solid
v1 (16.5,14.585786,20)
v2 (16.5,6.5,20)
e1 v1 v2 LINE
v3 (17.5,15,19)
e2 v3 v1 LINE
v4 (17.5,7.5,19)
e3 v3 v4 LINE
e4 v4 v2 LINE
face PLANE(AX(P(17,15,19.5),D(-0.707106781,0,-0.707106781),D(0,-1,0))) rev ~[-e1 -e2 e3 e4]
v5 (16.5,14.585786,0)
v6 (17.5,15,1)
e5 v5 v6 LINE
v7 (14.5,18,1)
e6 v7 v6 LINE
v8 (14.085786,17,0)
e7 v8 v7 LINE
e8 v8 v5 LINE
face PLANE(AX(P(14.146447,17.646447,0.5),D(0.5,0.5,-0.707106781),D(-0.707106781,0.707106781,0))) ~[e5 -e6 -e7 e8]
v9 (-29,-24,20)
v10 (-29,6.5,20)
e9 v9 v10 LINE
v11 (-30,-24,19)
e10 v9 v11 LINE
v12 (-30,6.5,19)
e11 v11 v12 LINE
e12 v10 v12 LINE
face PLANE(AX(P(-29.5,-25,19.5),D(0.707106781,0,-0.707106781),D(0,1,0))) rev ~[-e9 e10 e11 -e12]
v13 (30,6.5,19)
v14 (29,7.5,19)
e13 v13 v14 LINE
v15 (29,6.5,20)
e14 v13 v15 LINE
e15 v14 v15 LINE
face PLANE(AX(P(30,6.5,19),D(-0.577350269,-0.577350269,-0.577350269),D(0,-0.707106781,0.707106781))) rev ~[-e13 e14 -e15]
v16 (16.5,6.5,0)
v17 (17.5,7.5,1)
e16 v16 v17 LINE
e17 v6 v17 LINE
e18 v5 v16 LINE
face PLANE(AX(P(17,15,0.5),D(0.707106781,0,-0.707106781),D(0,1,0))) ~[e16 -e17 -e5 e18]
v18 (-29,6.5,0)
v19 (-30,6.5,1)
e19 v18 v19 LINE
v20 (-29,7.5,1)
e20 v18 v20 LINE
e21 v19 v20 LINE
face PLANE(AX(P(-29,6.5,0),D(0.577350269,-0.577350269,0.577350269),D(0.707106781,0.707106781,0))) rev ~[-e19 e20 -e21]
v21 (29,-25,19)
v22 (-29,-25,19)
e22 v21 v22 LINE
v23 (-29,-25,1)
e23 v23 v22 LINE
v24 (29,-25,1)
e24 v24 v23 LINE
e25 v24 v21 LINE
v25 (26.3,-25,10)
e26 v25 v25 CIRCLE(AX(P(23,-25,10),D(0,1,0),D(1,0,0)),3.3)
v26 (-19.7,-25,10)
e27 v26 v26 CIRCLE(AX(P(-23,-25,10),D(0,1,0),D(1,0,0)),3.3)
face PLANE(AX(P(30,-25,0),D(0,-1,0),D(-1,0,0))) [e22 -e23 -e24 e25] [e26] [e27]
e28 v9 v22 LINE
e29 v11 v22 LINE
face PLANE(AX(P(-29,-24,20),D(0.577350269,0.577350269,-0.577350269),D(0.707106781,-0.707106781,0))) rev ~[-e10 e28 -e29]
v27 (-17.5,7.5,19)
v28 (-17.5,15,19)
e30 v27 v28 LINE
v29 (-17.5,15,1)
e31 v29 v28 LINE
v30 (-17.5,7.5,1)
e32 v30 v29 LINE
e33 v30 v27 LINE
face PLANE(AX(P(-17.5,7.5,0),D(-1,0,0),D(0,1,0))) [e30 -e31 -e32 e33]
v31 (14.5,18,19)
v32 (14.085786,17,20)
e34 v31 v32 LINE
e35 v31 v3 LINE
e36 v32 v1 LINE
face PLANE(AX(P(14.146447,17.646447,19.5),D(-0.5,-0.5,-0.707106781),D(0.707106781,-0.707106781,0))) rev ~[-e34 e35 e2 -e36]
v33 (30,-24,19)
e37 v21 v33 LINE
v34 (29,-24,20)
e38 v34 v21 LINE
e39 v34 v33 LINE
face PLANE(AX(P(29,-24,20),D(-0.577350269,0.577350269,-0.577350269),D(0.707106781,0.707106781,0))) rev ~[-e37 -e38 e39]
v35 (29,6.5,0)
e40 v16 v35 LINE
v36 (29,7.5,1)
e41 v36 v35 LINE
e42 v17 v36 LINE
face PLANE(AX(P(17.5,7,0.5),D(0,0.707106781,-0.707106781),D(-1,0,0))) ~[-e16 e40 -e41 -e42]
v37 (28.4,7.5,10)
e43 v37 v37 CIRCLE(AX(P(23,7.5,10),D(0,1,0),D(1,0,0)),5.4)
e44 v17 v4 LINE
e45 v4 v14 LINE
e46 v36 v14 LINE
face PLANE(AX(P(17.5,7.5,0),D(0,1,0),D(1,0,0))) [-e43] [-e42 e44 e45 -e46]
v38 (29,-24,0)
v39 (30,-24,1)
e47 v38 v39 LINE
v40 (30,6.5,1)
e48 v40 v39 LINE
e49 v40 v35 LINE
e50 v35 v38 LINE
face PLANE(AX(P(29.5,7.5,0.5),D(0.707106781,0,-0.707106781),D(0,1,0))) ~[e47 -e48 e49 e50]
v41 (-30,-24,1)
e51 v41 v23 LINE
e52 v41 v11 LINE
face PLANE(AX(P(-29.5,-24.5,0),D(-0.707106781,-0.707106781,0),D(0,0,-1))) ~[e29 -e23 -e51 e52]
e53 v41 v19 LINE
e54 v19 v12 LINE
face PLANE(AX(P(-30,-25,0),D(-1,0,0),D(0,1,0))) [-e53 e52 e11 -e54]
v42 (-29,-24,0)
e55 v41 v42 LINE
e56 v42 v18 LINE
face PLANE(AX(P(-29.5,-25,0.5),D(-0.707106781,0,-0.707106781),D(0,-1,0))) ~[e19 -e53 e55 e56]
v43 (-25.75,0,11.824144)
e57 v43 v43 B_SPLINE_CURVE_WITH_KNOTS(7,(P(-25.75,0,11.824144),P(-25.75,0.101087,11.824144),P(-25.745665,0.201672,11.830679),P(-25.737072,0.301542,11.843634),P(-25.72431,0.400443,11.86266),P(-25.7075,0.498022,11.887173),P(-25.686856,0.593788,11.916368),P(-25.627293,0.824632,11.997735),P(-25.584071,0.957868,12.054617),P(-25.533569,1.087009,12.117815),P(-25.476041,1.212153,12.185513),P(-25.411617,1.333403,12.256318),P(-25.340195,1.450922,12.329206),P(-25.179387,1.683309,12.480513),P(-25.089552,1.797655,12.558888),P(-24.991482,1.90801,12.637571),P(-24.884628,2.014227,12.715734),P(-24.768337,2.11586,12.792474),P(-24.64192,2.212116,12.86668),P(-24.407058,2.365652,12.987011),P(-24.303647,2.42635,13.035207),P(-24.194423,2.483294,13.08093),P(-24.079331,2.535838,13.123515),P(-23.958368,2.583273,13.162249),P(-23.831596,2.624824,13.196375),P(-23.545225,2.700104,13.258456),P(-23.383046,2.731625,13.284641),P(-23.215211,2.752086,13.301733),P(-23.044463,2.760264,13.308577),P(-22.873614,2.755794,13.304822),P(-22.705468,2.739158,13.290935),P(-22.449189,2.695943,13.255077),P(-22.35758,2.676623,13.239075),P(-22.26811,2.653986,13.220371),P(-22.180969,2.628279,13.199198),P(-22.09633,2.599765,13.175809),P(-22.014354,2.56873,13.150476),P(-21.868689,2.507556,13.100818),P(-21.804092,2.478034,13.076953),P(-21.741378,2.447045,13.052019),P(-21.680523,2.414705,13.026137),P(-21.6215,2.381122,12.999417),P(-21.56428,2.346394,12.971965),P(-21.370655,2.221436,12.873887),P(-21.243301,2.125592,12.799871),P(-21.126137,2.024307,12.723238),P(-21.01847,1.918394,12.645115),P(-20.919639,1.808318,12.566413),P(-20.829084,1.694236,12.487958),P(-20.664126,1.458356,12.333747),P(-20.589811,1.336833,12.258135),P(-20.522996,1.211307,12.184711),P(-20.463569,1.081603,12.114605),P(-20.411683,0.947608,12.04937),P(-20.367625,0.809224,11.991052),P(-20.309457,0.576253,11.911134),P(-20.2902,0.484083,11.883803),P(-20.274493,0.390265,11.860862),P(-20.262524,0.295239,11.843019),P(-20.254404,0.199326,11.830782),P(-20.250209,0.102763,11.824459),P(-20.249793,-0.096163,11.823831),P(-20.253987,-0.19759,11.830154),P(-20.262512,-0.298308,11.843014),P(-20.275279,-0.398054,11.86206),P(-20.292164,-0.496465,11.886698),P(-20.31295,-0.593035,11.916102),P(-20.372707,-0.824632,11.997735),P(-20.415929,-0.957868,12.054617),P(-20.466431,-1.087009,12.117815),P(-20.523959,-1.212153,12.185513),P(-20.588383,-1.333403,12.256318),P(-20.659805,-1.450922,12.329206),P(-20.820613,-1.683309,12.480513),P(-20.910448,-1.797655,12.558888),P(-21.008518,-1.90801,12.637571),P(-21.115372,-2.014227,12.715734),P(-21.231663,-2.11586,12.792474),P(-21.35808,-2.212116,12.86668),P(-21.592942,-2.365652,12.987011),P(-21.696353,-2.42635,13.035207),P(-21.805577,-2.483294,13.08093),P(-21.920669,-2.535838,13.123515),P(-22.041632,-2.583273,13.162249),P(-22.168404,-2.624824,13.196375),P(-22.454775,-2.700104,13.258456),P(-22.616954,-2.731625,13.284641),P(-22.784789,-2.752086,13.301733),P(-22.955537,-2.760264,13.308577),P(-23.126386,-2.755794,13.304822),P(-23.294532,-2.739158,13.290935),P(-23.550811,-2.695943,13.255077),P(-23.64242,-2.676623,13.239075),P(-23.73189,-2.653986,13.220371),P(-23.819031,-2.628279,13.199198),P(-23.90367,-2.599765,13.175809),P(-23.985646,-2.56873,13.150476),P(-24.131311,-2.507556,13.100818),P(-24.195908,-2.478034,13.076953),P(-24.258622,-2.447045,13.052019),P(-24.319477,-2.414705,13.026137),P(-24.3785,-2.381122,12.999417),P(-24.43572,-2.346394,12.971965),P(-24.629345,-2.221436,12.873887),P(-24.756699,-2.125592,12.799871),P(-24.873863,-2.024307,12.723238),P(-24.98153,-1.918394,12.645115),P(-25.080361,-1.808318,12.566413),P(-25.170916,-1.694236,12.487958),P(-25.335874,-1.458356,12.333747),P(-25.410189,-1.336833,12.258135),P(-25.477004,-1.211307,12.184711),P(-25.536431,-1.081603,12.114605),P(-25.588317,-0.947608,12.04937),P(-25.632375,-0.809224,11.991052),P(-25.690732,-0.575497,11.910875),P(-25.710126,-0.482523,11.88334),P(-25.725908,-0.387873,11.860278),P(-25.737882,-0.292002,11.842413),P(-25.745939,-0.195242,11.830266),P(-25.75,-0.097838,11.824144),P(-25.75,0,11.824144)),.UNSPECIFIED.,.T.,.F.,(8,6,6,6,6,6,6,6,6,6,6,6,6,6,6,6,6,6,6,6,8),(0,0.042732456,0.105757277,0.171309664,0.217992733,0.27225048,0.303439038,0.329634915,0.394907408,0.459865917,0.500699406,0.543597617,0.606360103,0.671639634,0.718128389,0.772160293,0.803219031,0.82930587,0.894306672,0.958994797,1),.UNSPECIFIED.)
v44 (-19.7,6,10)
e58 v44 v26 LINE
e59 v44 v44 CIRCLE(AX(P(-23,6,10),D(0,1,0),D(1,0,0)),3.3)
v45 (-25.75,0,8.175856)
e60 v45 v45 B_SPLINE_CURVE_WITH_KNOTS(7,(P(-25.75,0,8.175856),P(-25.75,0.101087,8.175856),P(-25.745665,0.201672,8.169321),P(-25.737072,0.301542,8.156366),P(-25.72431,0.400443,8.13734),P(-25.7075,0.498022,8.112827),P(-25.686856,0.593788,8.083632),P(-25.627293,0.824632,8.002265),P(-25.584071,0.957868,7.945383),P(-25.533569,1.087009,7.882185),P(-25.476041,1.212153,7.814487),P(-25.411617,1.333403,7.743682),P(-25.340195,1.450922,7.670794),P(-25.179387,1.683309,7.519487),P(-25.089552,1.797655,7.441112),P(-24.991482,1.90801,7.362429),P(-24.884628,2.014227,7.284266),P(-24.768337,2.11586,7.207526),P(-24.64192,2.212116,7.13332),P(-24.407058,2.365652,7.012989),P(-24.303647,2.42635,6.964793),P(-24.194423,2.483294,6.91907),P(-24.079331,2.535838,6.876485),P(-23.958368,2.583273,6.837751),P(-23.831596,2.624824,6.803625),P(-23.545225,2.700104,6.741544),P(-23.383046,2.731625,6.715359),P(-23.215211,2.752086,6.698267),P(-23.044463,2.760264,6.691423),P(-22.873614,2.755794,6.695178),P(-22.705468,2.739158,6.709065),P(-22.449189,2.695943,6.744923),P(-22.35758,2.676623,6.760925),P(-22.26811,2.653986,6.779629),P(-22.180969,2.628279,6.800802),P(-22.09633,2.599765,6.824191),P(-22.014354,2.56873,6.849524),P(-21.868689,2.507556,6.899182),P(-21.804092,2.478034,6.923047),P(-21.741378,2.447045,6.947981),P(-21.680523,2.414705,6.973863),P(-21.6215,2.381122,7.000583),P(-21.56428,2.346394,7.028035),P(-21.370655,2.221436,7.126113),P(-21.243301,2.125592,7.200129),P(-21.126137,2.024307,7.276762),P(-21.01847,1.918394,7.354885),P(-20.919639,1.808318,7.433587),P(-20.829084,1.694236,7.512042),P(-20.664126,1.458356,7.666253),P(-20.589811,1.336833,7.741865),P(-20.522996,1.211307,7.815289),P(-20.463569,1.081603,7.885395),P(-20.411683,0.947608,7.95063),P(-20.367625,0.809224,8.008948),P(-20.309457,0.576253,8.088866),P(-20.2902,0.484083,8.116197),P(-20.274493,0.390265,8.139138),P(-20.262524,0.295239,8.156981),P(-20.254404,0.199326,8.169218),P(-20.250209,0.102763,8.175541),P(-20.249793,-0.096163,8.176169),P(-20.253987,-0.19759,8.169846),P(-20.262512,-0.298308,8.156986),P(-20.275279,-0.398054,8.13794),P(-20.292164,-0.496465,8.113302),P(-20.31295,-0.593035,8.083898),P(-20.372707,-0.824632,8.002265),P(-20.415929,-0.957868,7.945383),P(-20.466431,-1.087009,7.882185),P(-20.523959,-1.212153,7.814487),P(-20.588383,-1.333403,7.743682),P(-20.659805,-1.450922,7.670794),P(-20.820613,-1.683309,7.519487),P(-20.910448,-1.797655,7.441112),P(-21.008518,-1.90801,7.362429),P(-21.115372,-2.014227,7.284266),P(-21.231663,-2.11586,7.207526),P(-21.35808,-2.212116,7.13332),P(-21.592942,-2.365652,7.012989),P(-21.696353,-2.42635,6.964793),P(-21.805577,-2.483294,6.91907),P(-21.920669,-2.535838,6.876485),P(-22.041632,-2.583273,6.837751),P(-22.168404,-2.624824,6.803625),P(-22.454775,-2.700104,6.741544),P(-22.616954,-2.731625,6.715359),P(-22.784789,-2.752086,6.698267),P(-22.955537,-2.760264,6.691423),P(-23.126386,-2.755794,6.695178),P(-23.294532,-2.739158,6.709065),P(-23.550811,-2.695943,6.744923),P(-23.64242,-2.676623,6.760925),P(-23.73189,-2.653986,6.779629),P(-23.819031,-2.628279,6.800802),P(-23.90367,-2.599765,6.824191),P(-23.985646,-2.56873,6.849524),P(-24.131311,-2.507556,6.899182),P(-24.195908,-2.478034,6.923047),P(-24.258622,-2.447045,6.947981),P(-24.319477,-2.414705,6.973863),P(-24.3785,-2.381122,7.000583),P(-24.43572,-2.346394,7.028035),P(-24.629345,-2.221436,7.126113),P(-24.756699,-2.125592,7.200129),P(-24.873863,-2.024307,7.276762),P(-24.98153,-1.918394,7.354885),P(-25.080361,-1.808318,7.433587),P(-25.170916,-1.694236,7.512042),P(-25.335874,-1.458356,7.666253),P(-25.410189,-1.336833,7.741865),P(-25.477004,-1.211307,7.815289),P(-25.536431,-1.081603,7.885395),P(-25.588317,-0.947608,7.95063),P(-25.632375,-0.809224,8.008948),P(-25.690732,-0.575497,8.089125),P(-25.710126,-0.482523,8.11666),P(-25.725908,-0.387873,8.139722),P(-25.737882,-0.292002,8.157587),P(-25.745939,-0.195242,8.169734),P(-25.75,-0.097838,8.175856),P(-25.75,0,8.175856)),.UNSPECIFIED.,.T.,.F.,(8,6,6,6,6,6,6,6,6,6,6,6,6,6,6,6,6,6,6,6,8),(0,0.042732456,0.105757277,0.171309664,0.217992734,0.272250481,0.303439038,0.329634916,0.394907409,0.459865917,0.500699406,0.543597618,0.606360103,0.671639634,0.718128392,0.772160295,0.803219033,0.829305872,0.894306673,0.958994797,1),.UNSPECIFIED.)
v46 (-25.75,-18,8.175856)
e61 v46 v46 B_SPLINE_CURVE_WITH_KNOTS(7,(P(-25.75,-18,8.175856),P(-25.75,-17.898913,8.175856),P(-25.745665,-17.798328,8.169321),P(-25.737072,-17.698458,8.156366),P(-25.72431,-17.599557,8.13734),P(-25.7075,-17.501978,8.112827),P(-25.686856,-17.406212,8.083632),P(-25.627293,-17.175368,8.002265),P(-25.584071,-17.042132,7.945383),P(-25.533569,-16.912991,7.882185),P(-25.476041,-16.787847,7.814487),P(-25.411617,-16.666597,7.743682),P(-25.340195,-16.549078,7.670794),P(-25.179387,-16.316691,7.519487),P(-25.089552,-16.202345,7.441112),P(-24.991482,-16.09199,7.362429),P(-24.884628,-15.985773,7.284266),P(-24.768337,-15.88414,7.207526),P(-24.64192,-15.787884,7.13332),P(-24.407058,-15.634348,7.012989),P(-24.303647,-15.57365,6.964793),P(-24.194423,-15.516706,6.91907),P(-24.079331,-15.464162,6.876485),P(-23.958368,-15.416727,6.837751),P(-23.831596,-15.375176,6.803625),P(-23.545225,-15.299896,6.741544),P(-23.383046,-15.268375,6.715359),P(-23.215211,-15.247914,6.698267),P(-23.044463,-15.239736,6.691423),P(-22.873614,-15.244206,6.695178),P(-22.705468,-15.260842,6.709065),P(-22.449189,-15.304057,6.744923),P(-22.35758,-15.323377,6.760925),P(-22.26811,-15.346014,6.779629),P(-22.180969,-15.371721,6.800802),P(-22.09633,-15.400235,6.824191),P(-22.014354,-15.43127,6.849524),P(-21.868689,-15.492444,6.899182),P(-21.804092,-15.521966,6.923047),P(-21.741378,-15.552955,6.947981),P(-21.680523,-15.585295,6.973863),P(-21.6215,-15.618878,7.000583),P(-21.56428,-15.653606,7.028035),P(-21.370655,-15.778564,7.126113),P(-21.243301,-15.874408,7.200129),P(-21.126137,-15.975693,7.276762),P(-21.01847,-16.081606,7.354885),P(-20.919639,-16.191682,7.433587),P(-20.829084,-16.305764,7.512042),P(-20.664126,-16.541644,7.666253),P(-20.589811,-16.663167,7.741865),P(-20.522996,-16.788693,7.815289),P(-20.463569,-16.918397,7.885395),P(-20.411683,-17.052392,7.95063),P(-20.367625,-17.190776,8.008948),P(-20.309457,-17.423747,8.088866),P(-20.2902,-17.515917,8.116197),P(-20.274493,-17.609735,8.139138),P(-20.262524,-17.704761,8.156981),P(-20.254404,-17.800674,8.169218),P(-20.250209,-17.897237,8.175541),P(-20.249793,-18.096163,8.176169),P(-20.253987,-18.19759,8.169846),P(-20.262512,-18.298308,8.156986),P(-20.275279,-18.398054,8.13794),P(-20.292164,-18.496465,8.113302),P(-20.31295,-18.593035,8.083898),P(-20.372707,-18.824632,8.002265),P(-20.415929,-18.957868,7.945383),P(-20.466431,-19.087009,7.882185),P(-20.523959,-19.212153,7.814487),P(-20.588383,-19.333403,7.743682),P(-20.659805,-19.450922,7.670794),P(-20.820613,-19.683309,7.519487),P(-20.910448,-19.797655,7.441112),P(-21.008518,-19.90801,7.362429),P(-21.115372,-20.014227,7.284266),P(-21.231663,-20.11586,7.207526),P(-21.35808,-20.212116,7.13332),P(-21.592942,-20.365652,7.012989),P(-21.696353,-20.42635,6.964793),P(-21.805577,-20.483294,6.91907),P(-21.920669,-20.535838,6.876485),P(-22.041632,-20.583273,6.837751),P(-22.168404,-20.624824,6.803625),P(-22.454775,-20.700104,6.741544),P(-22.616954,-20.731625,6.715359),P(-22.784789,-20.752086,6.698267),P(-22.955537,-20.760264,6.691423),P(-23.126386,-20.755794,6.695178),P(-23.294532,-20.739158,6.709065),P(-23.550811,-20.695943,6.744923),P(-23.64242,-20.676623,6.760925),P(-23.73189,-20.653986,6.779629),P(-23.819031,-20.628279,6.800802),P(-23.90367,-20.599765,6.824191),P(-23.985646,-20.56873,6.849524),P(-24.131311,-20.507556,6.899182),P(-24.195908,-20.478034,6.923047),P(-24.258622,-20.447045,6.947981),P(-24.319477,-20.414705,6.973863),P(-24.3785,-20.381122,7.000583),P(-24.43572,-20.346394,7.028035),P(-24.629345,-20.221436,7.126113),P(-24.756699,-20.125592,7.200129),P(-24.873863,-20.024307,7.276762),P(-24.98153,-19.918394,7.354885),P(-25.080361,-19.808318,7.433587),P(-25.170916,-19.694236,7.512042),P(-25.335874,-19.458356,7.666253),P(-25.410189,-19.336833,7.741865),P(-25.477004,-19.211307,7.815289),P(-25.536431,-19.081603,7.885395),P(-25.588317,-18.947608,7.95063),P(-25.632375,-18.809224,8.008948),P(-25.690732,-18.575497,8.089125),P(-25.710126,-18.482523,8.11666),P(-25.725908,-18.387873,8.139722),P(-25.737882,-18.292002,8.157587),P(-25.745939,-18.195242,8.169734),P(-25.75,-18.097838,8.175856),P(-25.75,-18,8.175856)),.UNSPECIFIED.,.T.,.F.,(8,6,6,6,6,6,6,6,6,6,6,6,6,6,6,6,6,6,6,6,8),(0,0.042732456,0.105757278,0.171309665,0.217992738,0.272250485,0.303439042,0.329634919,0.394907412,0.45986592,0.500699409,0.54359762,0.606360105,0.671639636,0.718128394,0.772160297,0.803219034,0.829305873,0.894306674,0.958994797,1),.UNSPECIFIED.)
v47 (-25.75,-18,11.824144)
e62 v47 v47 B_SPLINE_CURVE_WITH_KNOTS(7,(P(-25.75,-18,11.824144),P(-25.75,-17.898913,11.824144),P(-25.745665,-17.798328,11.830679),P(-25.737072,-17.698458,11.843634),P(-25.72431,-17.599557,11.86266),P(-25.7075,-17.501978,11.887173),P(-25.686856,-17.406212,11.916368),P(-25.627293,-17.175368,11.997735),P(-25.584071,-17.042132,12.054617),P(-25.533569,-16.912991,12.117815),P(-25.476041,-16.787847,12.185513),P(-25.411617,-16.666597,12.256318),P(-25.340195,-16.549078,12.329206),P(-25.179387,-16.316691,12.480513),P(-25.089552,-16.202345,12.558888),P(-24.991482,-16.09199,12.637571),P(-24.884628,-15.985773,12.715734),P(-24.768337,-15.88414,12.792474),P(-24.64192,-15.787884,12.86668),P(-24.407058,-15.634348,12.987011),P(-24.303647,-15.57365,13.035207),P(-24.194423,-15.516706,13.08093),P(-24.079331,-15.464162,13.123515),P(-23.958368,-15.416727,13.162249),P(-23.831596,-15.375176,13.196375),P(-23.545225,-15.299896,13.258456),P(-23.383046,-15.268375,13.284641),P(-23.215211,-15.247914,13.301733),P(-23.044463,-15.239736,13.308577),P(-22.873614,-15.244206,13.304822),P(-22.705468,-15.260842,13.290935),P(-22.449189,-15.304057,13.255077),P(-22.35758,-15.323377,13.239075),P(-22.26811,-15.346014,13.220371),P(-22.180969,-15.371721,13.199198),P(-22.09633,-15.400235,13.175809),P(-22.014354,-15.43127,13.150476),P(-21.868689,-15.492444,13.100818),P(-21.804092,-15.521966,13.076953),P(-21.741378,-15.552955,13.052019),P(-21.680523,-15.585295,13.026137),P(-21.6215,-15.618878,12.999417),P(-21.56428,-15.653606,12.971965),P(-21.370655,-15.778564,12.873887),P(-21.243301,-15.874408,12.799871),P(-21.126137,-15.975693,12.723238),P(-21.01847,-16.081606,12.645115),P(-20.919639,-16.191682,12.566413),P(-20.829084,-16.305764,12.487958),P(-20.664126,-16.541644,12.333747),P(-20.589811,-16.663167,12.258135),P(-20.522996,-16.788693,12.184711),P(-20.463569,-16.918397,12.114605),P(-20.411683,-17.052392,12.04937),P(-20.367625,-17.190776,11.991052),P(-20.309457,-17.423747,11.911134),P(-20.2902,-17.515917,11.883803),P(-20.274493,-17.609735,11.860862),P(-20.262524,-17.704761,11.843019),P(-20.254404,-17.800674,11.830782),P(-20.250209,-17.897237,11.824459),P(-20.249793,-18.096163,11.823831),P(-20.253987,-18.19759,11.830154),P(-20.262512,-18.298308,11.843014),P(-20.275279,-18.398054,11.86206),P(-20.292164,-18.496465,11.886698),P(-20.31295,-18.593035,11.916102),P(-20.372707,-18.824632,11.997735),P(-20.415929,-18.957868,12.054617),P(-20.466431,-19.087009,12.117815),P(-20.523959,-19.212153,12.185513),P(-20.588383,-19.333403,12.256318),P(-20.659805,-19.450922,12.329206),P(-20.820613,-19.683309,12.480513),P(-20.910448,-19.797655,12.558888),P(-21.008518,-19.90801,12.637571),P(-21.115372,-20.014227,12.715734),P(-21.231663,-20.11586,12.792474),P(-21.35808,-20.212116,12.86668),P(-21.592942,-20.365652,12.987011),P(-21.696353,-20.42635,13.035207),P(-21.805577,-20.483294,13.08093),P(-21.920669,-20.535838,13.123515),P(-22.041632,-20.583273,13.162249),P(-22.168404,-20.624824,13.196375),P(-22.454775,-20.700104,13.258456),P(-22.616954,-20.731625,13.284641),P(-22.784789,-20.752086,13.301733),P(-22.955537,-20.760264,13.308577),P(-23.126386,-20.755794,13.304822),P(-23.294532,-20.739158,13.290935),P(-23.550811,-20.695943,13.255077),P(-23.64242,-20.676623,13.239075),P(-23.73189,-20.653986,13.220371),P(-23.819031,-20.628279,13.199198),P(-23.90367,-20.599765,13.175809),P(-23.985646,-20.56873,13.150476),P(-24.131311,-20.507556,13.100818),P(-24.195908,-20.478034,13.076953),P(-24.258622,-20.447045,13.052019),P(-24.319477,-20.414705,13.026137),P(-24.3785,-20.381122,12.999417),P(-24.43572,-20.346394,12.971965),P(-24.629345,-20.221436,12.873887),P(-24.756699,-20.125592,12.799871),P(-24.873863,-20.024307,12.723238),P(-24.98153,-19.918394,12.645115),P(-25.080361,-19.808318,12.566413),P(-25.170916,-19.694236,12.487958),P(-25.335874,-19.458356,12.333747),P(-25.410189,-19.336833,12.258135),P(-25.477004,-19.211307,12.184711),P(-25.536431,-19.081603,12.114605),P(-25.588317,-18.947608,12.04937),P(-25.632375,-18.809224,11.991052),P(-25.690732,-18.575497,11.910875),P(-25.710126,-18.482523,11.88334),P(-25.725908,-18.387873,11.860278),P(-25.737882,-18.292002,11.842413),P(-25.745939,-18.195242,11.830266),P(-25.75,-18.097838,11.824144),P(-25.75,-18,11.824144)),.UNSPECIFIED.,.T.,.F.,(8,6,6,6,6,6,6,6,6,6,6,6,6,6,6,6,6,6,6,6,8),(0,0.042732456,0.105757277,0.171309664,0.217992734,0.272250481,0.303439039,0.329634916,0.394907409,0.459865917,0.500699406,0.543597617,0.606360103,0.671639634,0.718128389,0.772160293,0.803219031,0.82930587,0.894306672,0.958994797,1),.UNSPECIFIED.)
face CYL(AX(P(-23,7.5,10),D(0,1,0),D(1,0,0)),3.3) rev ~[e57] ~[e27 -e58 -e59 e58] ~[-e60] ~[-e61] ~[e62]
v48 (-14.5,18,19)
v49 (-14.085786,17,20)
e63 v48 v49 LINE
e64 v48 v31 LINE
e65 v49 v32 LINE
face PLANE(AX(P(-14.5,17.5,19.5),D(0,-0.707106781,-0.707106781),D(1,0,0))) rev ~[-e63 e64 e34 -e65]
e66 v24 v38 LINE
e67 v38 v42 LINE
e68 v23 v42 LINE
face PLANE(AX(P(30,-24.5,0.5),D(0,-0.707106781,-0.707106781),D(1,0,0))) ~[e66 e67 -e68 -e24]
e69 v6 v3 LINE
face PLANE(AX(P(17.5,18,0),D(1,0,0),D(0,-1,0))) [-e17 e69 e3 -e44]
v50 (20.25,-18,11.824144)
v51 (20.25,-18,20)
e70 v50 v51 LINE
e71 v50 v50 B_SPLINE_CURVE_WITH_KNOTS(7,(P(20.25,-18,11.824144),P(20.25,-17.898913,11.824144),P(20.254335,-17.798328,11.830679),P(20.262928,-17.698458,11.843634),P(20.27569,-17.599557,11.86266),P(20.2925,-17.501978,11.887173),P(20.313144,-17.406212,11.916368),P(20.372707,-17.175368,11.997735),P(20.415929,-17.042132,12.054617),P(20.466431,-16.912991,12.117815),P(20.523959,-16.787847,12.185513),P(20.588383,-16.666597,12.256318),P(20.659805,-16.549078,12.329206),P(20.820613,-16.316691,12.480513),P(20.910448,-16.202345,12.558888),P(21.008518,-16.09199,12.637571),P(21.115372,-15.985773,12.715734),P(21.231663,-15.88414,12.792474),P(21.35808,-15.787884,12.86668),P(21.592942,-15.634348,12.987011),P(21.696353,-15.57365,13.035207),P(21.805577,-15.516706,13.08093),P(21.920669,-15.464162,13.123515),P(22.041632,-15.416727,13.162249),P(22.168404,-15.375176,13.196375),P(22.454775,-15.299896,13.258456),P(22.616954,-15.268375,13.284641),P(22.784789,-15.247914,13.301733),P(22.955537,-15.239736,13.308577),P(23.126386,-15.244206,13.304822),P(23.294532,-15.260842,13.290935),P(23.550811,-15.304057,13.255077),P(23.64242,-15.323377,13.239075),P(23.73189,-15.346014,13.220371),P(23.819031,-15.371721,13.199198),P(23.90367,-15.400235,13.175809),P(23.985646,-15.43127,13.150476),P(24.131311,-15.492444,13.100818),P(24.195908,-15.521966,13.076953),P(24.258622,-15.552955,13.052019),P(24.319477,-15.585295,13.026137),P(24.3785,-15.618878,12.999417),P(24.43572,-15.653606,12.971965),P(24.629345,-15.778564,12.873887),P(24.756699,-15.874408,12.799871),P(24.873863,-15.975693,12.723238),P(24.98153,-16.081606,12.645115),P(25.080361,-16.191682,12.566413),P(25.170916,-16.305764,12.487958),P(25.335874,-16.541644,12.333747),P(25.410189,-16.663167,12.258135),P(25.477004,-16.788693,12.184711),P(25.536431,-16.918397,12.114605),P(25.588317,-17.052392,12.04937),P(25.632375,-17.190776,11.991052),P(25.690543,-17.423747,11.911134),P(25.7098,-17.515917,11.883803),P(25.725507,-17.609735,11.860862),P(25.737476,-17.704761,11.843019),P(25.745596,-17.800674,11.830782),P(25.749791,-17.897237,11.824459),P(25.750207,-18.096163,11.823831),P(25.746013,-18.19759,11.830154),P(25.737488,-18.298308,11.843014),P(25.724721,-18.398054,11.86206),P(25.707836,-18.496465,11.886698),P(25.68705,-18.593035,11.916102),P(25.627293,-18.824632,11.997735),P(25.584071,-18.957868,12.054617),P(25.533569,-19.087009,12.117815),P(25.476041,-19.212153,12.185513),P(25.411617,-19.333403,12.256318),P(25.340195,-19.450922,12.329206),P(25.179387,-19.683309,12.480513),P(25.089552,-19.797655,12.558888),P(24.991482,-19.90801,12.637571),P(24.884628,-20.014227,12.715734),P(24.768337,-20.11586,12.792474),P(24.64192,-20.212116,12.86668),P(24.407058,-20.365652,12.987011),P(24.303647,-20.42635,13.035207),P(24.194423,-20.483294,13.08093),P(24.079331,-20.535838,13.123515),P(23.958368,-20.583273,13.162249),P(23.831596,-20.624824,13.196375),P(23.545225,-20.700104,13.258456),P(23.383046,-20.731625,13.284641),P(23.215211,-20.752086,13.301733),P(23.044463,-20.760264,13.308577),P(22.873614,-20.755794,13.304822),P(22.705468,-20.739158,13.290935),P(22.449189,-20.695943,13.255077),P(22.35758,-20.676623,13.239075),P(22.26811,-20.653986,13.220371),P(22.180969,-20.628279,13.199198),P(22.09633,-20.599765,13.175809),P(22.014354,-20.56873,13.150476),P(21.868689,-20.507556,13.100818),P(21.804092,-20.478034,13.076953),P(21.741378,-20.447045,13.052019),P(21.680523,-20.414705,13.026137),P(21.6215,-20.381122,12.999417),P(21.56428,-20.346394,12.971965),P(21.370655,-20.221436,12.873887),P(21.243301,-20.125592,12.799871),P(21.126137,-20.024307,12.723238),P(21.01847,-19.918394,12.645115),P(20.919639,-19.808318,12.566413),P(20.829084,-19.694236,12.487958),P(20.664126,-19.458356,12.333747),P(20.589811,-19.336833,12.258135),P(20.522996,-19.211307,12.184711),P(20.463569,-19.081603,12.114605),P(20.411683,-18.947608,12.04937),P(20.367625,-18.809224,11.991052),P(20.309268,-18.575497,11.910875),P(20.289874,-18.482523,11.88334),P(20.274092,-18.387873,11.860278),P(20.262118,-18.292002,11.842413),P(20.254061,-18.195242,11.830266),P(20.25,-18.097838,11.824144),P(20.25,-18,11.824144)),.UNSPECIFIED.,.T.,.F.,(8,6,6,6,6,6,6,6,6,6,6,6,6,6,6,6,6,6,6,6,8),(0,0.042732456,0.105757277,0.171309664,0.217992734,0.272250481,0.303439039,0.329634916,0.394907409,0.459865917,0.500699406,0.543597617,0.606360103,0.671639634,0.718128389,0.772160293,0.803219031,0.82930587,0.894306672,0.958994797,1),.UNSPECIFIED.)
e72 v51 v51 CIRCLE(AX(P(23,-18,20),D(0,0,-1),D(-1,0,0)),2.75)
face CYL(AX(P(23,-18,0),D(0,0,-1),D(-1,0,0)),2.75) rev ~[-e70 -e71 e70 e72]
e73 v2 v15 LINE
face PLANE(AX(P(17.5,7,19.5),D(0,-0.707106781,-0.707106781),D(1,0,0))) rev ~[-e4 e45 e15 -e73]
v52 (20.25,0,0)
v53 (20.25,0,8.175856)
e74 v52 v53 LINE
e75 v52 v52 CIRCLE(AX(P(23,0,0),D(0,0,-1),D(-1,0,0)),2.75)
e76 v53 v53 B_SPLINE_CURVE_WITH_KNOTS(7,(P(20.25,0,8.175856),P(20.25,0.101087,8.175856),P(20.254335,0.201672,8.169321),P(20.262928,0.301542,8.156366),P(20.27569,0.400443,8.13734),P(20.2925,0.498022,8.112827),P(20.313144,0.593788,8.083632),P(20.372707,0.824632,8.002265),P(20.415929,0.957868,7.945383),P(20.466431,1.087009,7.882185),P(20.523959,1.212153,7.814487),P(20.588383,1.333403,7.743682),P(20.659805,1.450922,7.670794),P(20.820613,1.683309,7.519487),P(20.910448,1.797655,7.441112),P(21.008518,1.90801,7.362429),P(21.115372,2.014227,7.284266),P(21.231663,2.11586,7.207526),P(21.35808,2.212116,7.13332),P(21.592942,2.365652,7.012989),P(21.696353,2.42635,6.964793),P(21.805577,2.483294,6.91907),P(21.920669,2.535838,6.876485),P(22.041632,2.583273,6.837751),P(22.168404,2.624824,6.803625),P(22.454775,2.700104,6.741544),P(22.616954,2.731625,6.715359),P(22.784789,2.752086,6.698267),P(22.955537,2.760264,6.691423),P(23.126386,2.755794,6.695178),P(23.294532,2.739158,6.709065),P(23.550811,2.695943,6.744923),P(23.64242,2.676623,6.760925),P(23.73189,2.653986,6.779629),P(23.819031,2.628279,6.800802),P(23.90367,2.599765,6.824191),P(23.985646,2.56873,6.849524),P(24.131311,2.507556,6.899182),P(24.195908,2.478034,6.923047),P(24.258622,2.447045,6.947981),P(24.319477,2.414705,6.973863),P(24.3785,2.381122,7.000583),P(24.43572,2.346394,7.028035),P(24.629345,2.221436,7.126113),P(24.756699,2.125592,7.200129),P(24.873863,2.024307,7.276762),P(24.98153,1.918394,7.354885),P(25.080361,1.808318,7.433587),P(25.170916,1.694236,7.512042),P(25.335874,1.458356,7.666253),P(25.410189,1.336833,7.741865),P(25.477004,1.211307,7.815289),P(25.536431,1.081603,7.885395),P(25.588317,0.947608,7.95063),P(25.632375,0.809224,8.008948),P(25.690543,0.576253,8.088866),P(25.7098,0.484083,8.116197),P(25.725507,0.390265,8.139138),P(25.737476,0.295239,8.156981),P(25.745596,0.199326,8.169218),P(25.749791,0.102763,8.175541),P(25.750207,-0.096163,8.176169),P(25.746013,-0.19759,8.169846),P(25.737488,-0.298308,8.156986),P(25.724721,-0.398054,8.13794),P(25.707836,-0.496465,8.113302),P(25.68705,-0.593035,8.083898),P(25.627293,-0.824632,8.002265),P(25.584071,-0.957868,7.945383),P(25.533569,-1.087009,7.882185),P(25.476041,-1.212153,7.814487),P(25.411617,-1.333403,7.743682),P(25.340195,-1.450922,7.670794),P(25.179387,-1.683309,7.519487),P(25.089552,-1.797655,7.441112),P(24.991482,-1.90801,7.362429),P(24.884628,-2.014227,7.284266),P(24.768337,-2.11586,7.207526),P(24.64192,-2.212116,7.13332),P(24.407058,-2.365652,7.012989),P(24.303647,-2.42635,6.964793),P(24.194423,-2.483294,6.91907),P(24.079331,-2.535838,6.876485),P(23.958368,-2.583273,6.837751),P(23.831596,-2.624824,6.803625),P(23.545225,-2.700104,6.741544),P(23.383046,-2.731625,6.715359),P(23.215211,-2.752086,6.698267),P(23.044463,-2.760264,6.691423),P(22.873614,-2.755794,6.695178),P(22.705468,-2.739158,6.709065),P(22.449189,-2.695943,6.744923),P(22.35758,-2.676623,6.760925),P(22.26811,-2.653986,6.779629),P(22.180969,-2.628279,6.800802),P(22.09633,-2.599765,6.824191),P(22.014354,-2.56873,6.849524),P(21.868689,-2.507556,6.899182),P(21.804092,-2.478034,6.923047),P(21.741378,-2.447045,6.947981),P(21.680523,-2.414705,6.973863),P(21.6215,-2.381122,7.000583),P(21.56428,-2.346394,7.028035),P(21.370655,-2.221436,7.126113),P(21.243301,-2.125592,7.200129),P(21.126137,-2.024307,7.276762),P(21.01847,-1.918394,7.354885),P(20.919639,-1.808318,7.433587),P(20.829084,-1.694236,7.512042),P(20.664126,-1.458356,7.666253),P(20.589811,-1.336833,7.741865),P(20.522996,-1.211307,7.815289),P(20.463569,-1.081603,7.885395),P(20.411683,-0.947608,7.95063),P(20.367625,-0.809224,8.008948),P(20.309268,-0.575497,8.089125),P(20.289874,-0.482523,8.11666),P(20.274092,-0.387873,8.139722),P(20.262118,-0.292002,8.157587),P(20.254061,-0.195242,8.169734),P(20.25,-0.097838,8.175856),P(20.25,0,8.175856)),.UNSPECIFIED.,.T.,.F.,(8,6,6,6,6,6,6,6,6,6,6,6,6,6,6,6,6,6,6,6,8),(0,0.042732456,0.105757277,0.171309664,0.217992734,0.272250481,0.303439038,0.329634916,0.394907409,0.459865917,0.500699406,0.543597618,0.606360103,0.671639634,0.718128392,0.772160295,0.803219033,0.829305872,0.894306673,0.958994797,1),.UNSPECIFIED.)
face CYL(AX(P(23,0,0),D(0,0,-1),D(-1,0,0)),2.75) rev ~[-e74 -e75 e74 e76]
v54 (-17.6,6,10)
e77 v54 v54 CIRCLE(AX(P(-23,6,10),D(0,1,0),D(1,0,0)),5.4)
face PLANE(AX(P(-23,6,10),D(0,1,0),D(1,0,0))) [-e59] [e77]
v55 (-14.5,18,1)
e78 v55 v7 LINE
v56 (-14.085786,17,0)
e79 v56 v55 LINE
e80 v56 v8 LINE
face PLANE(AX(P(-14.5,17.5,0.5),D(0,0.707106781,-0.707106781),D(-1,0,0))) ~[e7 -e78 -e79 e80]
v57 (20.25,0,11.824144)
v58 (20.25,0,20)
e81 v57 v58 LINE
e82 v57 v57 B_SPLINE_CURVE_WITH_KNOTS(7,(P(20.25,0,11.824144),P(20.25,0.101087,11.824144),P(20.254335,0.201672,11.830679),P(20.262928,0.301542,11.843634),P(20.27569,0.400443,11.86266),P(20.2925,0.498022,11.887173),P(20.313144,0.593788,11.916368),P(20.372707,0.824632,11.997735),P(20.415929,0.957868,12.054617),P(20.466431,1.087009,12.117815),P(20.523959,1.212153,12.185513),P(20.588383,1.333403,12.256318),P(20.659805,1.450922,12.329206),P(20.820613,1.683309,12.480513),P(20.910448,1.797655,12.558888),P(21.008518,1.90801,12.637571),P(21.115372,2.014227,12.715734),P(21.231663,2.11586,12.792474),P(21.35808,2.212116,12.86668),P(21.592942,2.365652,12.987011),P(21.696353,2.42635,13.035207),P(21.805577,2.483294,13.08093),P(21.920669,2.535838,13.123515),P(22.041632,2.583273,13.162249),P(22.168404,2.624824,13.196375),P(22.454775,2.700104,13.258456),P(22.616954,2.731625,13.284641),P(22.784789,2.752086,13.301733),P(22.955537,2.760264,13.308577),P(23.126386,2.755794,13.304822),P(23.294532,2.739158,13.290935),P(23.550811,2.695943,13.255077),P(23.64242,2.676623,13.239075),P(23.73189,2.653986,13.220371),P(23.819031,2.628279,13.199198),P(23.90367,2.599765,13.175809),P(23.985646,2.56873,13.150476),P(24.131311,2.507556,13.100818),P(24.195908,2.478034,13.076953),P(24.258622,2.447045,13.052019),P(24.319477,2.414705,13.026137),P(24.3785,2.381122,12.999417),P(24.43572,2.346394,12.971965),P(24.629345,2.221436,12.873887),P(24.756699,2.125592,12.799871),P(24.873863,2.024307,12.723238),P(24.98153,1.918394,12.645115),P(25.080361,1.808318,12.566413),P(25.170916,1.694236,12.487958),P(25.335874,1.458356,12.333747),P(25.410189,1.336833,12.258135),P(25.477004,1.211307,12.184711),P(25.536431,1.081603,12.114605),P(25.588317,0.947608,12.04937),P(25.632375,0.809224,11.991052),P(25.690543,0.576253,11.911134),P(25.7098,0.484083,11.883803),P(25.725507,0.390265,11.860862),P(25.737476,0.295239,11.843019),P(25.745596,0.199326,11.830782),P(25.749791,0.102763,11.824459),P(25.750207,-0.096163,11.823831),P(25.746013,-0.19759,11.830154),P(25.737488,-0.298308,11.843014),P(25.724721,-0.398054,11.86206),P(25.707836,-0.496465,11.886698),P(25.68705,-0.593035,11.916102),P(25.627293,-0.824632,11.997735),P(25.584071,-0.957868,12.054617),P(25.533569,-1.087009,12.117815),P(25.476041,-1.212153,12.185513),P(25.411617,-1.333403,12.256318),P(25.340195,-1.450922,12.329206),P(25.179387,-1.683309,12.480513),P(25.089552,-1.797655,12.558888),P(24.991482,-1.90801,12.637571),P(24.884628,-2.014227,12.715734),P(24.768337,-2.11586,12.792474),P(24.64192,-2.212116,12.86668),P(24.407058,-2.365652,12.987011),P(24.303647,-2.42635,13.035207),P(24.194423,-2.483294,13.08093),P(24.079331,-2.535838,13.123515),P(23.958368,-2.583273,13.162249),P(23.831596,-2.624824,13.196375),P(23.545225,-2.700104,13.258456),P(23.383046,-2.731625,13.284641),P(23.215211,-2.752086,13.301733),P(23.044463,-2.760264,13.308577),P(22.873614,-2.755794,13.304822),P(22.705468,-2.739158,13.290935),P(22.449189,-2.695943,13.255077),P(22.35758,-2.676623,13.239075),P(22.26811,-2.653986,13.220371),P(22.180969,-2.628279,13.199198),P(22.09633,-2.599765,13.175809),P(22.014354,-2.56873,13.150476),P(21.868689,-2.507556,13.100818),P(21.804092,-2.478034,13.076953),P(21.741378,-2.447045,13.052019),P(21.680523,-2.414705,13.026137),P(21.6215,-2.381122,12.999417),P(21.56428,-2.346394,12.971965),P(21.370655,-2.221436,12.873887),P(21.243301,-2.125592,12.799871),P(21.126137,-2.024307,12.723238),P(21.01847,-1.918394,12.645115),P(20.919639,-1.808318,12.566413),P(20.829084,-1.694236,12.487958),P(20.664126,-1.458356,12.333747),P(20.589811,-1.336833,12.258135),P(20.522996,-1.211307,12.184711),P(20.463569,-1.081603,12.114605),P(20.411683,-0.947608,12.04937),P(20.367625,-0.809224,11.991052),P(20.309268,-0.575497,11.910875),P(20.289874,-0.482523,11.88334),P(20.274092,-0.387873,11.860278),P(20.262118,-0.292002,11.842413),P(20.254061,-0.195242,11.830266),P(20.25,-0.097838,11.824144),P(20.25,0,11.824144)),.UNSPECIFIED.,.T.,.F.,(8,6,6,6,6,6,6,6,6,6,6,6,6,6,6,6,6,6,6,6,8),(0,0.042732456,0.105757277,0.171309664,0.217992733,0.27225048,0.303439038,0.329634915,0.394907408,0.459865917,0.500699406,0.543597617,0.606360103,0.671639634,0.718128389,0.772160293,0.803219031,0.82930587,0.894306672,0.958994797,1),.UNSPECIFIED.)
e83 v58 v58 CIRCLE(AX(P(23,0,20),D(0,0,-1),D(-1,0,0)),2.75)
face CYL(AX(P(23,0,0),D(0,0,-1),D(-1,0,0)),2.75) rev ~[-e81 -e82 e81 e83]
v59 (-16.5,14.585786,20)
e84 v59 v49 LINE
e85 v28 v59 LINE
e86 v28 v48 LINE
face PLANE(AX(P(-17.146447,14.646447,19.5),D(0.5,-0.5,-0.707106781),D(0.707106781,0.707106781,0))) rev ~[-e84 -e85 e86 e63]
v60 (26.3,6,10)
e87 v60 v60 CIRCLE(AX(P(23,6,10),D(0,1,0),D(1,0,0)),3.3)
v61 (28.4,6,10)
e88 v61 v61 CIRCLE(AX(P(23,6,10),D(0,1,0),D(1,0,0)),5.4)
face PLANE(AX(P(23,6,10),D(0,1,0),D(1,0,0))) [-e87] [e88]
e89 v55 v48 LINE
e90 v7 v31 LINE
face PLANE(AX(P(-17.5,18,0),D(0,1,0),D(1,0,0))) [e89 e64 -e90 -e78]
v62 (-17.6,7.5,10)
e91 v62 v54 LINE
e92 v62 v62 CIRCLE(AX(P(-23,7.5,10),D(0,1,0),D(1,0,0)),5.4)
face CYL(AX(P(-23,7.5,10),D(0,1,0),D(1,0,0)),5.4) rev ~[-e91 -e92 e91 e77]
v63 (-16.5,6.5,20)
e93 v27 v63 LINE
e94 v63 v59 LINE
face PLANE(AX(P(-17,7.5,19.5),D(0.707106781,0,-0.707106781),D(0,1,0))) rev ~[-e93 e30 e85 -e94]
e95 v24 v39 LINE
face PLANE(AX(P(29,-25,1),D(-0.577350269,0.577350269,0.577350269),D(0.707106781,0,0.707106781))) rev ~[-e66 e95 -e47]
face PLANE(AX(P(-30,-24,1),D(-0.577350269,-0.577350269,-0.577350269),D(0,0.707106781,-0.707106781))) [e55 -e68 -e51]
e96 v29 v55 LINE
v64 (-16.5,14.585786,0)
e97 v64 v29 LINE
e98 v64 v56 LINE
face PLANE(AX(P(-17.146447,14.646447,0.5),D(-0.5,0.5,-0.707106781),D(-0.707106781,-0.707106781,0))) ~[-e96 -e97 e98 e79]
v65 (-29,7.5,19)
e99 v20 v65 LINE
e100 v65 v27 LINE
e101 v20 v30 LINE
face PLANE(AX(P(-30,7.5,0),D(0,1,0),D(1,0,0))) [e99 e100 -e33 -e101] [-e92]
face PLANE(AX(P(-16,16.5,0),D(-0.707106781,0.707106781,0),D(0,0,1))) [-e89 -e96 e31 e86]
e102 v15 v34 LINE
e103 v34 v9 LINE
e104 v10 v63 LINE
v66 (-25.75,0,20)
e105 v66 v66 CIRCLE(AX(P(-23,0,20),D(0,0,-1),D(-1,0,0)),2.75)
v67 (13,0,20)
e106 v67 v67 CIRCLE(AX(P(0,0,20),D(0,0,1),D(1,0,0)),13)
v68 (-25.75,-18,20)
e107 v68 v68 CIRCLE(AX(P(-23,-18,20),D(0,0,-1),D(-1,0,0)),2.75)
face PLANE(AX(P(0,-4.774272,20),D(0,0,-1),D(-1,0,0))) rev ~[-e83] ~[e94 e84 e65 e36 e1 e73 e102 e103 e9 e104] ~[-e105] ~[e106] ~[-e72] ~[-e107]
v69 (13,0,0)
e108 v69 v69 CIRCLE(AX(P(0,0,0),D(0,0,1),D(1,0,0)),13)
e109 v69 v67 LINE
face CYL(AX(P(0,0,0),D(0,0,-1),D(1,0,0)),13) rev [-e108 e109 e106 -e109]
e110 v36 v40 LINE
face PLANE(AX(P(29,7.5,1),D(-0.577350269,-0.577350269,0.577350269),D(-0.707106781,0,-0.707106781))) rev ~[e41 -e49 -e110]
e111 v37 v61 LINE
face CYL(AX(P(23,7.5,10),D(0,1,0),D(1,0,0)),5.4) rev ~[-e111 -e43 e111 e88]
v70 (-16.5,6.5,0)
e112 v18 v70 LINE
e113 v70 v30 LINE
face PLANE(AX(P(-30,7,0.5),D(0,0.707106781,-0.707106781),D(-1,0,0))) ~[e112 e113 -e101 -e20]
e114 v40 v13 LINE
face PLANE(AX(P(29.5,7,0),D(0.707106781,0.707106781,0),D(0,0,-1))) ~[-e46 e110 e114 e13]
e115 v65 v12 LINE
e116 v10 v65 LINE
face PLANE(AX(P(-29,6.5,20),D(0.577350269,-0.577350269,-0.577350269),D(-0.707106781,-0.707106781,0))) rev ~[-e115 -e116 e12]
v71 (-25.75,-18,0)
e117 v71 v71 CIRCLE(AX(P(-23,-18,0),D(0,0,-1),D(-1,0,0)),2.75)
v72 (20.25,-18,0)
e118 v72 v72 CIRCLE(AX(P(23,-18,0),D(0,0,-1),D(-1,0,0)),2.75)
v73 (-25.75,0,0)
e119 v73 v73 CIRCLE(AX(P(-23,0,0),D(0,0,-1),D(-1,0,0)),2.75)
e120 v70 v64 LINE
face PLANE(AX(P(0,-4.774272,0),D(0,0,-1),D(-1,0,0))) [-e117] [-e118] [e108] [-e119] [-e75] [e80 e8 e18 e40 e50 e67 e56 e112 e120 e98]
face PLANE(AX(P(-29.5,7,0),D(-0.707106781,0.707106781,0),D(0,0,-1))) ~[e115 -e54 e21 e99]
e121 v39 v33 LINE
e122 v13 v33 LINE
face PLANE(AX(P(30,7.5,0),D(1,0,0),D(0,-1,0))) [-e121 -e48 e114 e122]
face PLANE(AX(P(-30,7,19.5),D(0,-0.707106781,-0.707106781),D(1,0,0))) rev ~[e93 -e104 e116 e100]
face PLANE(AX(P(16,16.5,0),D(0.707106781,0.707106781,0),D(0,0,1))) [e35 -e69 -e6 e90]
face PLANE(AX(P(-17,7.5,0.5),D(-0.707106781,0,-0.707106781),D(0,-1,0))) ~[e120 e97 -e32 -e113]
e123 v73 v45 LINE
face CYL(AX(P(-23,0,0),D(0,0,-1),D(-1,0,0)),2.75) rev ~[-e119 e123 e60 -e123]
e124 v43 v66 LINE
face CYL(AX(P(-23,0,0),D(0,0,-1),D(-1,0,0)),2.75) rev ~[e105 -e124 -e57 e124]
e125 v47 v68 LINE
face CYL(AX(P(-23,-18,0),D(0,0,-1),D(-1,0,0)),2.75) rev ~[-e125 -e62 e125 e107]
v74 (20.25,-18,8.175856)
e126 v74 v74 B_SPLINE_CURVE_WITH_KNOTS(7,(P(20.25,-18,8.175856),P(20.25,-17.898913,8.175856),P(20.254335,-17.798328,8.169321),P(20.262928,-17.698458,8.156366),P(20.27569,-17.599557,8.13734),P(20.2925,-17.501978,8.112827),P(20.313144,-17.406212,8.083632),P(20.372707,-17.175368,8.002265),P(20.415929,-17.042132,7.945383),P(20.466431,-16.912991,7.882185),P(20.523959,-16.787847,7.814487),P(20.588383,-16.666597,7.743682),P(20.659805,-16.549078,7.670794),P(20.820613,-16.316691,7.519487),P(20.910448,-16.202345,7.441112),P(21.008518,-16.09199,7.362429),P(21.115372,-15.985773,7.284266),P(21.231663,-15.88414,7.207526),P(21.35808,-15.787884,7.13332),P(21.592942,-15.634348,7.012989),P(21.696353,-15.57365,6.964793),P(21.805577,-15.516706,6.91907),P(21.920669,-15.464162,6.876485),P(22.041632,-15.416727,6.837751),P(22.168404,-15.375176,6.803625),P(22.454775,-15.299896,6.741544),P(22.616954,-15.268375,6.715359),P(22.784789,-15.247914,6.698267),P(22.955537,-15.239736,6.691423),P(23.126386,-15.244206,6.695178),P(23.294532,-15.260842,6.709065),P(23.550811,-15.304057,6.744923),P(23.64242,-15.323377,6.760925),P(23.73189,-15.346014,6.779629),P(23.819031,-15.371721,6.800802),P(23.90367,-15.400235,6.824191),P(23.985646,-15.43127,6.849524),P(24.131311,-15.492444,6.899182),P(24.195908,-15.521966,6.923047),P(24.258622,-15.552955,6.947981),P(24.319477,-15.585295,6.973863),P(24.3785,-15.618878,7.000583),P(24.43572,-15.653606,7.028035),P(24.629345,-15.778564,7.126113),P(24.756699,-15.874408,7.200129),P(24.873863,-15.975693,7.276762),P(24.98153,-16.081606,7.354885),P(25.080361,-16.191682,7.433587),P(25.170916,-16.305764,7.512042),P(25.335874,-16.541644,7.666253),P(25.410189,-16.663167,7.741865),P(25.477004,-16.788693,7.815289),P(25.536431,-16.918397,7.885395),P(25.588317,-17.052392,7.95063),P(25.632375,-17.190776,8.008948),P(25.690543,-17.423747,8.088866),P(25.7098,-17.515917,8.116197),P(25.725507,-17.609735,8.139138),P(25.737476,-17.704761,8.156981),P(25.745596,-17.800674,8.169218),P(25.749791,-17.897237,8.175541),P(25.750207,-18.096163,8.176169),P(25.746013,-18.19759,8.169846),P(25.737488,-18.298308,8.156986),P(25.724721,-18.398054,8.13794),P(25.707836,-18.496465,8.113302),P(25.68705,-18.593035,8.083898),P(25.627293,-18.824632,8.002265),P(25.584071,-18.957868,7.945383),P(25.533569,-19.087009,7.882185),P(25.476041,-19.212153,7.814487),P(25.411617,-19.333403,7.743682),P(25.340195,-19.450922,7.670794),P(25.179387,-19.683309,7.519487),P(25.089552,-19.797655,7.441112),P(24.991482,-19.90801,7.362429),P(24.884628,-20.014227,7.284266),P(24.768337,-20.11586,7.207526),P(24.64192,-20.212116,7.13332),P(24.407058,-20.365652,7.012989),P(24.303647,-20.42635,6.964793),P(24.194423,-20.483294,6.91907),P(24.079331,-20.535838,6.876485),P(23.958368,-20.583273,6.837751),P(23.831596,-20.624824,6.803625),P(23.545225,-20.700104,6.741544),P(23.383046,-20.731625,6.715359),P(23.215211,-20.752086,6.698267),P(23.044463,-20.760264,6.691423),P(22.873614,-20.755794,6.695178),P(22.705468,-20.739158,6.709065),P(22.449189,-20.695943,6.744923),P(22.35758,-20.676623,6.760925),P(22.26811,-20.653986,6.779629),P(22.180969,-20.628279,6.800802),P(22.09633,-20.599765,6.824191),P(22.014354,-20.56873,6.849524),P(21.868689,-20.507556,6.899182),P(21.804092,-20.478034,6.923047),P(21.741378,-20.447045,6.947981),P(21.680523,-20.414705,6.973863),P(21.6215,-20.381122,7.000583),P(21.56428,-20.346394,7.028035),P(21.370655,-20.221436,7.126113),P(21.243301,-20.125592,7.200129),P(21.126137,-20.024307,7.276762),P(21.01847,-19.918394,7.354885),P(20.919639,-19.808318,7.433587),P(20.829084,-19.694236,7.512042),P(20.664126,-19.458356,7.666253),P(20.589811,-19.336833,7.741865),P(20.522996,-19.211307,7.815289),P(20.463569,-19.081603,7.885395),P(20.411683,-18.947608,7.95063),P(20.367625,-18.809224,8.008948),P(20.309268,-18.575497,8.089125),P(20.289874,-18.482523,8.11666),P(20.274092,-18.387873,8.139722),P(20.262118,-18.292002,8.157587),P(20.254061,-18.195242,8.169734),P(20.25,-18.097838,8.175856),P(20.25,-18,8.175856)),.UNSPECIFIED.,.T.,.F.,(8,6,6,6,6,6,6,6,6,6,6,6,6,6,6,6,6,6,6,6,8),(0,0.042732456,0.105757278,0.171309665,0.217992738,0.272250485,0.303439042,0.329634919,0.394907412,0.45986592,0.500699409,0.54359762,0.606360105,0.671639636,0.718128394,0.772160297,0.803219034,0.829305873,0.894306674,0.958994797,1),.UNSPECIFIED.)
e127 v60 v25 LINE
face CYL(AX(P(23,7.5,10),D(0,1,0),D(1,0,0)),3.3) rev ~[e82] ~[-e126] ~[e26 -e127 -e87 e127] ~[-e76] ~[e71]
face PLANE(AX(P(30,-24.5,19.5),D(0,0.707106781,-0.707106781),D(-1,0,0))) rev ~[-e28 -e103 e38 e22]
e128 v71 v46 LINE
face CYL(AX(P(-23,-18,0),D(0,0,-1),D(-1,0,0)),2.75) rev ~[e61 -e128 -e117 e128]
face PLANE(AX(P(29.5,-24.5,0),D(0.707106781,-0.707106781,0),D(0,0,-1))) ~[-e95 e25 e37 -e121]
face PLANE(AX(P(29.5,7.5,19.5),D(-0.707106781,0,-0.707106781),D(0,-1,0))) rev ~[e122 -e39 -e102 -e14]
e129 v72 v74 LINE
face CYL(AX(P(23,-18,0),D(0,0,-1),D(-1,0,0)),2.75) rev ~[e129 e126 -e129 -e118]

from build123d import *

# Parameters (mm, degrees)
ESBO_O1_R                = 13
RESSALTO_EXTRUS_O1_DEPTH = 20
ESBO_O4_R                = 3.3
CORTE_EXTRUS_O1_DEPTH    = 33.5
CHANFRO1_SIZE            = 3
CHANFRO3_SIZE            = 1
ESBO_O5_R                = 5.4
CORTE_EXTRUS_O2_DEPTH    = 1.5
ESBO_O6_R                = 2.75
CORTE_EXTRUS_O3_DEPTH    = 21


with BuildPart() as part:
    # Esboço1 → Ressalto-extrusão1 (new body)
    with BuildSketch(Plane.XY):
        Polygon((-30, -25), (-30, 7.5), (-17.5, 7.5), (-17.5, 18), (17.5, 18), (17.5, 7.5), (30, 7.5), (30, -25), align=None)
        Circle(ESBO_O1_R, mode=Mode.SUBTRACT)
    extrude(amount=RESSALTO_EXTRUS_O1_DEPTH)

    # Esboço4 → Corte-extrusão1 (cut, through all)
    with BuildSketch(Plane(origin=(0, 7.5, 0), x_dir=(1, 0, 0), z_dir=(0, 1, 0))):
        with Locations((-23, -10)):
            Circle(ESBO_O4_R)
        with Locations((23, -10)):
            Circle(ESBO_O4_R)
    extrude(amount=-CORTE_EXTRUS_O1_DEPTH, mode=Mode.SUBTRACT)

    # Chanfro1
    chanfro1_edges = [part.edges().sort_by_distance(p)[0] for p in [
        (-17.5, 18, 10),
        (17.5, 18, 10),
    ]]
    chamfer(chanfro1_edges, length=CHANFRO1_SIZE)

    # Chanfro3
    chanfro3_edges = [part.edges().sort_by_distance(p)[0] for p in [
        (23.75, 7.5, 20),
        (30, -8.75, 0),
        (0, -25, 0),
        (17.5, 11.25, 20),
        (-30, -25, 10),
        (-30, 7.5, 10),
        (30, 7.5, 10),
        (30, -25, 10),
        (-23.75, 7.5, 20),
        (-30, -8.75, 20),
        (0, 18, 0),
        (0, 18, 20),
        (-17.5, 11.25, 0),
        (-16, 16.5, 0),
        (0, -25, 20),
        (16, 16.5, 0),
        (-17.5, 11.25, 20),
        (-16, 16.5, 20),
        (16, 16.5, 20),
        (30, -8.75, 20),
        (-30, -8.75, 0),
        (-23.75, 7.5, 0),
        (17.5, 11.25, 0),
        (23.75, 7.5, 0),
    ]]
    chamfer(chanfro3_edges, length=CHANFRO3_SIZE)

    # Esboço5 → Corte-extrusão2 (cut)
    with BuildSketch(Plane(origin=(0, 7.5, 0), x_dir=(1, 0, 0), z_dir=(0, 1, 0))):
        with Locations((23, -10)):
            Circle(ESBO_O5_R)
        with Locations((-23, -10)):
            Circle(ESBO_O5_R)
    extrude(amount=-CORTE_EXTRUS_O2_DEPTH, mode=Mode.SUBTRACT)

    # Esboço6 → Corte-extrusão3 (cut, through all)
    with BuildSketch(Plane(origin=(0, 0, 0), x_dir=(-1, 0, 0), z_dir=(0, 0, -1))):
        with Locations((-23, 0)):
            Circle(ESBO_O6_R)
        with Locations((-23, -18)):
            Circle(ESBO_O6_R)
        with Locations((23, 0)):
            Circle(ESBO_O6_R)
        with Locations((23, -18)):
            Circle(ESBO_O6_R)
    extrude(amount=-CORTE_EXTRUS_O3_DEPTH, mode=Mode.SUBTRACT)


solid = part.part
